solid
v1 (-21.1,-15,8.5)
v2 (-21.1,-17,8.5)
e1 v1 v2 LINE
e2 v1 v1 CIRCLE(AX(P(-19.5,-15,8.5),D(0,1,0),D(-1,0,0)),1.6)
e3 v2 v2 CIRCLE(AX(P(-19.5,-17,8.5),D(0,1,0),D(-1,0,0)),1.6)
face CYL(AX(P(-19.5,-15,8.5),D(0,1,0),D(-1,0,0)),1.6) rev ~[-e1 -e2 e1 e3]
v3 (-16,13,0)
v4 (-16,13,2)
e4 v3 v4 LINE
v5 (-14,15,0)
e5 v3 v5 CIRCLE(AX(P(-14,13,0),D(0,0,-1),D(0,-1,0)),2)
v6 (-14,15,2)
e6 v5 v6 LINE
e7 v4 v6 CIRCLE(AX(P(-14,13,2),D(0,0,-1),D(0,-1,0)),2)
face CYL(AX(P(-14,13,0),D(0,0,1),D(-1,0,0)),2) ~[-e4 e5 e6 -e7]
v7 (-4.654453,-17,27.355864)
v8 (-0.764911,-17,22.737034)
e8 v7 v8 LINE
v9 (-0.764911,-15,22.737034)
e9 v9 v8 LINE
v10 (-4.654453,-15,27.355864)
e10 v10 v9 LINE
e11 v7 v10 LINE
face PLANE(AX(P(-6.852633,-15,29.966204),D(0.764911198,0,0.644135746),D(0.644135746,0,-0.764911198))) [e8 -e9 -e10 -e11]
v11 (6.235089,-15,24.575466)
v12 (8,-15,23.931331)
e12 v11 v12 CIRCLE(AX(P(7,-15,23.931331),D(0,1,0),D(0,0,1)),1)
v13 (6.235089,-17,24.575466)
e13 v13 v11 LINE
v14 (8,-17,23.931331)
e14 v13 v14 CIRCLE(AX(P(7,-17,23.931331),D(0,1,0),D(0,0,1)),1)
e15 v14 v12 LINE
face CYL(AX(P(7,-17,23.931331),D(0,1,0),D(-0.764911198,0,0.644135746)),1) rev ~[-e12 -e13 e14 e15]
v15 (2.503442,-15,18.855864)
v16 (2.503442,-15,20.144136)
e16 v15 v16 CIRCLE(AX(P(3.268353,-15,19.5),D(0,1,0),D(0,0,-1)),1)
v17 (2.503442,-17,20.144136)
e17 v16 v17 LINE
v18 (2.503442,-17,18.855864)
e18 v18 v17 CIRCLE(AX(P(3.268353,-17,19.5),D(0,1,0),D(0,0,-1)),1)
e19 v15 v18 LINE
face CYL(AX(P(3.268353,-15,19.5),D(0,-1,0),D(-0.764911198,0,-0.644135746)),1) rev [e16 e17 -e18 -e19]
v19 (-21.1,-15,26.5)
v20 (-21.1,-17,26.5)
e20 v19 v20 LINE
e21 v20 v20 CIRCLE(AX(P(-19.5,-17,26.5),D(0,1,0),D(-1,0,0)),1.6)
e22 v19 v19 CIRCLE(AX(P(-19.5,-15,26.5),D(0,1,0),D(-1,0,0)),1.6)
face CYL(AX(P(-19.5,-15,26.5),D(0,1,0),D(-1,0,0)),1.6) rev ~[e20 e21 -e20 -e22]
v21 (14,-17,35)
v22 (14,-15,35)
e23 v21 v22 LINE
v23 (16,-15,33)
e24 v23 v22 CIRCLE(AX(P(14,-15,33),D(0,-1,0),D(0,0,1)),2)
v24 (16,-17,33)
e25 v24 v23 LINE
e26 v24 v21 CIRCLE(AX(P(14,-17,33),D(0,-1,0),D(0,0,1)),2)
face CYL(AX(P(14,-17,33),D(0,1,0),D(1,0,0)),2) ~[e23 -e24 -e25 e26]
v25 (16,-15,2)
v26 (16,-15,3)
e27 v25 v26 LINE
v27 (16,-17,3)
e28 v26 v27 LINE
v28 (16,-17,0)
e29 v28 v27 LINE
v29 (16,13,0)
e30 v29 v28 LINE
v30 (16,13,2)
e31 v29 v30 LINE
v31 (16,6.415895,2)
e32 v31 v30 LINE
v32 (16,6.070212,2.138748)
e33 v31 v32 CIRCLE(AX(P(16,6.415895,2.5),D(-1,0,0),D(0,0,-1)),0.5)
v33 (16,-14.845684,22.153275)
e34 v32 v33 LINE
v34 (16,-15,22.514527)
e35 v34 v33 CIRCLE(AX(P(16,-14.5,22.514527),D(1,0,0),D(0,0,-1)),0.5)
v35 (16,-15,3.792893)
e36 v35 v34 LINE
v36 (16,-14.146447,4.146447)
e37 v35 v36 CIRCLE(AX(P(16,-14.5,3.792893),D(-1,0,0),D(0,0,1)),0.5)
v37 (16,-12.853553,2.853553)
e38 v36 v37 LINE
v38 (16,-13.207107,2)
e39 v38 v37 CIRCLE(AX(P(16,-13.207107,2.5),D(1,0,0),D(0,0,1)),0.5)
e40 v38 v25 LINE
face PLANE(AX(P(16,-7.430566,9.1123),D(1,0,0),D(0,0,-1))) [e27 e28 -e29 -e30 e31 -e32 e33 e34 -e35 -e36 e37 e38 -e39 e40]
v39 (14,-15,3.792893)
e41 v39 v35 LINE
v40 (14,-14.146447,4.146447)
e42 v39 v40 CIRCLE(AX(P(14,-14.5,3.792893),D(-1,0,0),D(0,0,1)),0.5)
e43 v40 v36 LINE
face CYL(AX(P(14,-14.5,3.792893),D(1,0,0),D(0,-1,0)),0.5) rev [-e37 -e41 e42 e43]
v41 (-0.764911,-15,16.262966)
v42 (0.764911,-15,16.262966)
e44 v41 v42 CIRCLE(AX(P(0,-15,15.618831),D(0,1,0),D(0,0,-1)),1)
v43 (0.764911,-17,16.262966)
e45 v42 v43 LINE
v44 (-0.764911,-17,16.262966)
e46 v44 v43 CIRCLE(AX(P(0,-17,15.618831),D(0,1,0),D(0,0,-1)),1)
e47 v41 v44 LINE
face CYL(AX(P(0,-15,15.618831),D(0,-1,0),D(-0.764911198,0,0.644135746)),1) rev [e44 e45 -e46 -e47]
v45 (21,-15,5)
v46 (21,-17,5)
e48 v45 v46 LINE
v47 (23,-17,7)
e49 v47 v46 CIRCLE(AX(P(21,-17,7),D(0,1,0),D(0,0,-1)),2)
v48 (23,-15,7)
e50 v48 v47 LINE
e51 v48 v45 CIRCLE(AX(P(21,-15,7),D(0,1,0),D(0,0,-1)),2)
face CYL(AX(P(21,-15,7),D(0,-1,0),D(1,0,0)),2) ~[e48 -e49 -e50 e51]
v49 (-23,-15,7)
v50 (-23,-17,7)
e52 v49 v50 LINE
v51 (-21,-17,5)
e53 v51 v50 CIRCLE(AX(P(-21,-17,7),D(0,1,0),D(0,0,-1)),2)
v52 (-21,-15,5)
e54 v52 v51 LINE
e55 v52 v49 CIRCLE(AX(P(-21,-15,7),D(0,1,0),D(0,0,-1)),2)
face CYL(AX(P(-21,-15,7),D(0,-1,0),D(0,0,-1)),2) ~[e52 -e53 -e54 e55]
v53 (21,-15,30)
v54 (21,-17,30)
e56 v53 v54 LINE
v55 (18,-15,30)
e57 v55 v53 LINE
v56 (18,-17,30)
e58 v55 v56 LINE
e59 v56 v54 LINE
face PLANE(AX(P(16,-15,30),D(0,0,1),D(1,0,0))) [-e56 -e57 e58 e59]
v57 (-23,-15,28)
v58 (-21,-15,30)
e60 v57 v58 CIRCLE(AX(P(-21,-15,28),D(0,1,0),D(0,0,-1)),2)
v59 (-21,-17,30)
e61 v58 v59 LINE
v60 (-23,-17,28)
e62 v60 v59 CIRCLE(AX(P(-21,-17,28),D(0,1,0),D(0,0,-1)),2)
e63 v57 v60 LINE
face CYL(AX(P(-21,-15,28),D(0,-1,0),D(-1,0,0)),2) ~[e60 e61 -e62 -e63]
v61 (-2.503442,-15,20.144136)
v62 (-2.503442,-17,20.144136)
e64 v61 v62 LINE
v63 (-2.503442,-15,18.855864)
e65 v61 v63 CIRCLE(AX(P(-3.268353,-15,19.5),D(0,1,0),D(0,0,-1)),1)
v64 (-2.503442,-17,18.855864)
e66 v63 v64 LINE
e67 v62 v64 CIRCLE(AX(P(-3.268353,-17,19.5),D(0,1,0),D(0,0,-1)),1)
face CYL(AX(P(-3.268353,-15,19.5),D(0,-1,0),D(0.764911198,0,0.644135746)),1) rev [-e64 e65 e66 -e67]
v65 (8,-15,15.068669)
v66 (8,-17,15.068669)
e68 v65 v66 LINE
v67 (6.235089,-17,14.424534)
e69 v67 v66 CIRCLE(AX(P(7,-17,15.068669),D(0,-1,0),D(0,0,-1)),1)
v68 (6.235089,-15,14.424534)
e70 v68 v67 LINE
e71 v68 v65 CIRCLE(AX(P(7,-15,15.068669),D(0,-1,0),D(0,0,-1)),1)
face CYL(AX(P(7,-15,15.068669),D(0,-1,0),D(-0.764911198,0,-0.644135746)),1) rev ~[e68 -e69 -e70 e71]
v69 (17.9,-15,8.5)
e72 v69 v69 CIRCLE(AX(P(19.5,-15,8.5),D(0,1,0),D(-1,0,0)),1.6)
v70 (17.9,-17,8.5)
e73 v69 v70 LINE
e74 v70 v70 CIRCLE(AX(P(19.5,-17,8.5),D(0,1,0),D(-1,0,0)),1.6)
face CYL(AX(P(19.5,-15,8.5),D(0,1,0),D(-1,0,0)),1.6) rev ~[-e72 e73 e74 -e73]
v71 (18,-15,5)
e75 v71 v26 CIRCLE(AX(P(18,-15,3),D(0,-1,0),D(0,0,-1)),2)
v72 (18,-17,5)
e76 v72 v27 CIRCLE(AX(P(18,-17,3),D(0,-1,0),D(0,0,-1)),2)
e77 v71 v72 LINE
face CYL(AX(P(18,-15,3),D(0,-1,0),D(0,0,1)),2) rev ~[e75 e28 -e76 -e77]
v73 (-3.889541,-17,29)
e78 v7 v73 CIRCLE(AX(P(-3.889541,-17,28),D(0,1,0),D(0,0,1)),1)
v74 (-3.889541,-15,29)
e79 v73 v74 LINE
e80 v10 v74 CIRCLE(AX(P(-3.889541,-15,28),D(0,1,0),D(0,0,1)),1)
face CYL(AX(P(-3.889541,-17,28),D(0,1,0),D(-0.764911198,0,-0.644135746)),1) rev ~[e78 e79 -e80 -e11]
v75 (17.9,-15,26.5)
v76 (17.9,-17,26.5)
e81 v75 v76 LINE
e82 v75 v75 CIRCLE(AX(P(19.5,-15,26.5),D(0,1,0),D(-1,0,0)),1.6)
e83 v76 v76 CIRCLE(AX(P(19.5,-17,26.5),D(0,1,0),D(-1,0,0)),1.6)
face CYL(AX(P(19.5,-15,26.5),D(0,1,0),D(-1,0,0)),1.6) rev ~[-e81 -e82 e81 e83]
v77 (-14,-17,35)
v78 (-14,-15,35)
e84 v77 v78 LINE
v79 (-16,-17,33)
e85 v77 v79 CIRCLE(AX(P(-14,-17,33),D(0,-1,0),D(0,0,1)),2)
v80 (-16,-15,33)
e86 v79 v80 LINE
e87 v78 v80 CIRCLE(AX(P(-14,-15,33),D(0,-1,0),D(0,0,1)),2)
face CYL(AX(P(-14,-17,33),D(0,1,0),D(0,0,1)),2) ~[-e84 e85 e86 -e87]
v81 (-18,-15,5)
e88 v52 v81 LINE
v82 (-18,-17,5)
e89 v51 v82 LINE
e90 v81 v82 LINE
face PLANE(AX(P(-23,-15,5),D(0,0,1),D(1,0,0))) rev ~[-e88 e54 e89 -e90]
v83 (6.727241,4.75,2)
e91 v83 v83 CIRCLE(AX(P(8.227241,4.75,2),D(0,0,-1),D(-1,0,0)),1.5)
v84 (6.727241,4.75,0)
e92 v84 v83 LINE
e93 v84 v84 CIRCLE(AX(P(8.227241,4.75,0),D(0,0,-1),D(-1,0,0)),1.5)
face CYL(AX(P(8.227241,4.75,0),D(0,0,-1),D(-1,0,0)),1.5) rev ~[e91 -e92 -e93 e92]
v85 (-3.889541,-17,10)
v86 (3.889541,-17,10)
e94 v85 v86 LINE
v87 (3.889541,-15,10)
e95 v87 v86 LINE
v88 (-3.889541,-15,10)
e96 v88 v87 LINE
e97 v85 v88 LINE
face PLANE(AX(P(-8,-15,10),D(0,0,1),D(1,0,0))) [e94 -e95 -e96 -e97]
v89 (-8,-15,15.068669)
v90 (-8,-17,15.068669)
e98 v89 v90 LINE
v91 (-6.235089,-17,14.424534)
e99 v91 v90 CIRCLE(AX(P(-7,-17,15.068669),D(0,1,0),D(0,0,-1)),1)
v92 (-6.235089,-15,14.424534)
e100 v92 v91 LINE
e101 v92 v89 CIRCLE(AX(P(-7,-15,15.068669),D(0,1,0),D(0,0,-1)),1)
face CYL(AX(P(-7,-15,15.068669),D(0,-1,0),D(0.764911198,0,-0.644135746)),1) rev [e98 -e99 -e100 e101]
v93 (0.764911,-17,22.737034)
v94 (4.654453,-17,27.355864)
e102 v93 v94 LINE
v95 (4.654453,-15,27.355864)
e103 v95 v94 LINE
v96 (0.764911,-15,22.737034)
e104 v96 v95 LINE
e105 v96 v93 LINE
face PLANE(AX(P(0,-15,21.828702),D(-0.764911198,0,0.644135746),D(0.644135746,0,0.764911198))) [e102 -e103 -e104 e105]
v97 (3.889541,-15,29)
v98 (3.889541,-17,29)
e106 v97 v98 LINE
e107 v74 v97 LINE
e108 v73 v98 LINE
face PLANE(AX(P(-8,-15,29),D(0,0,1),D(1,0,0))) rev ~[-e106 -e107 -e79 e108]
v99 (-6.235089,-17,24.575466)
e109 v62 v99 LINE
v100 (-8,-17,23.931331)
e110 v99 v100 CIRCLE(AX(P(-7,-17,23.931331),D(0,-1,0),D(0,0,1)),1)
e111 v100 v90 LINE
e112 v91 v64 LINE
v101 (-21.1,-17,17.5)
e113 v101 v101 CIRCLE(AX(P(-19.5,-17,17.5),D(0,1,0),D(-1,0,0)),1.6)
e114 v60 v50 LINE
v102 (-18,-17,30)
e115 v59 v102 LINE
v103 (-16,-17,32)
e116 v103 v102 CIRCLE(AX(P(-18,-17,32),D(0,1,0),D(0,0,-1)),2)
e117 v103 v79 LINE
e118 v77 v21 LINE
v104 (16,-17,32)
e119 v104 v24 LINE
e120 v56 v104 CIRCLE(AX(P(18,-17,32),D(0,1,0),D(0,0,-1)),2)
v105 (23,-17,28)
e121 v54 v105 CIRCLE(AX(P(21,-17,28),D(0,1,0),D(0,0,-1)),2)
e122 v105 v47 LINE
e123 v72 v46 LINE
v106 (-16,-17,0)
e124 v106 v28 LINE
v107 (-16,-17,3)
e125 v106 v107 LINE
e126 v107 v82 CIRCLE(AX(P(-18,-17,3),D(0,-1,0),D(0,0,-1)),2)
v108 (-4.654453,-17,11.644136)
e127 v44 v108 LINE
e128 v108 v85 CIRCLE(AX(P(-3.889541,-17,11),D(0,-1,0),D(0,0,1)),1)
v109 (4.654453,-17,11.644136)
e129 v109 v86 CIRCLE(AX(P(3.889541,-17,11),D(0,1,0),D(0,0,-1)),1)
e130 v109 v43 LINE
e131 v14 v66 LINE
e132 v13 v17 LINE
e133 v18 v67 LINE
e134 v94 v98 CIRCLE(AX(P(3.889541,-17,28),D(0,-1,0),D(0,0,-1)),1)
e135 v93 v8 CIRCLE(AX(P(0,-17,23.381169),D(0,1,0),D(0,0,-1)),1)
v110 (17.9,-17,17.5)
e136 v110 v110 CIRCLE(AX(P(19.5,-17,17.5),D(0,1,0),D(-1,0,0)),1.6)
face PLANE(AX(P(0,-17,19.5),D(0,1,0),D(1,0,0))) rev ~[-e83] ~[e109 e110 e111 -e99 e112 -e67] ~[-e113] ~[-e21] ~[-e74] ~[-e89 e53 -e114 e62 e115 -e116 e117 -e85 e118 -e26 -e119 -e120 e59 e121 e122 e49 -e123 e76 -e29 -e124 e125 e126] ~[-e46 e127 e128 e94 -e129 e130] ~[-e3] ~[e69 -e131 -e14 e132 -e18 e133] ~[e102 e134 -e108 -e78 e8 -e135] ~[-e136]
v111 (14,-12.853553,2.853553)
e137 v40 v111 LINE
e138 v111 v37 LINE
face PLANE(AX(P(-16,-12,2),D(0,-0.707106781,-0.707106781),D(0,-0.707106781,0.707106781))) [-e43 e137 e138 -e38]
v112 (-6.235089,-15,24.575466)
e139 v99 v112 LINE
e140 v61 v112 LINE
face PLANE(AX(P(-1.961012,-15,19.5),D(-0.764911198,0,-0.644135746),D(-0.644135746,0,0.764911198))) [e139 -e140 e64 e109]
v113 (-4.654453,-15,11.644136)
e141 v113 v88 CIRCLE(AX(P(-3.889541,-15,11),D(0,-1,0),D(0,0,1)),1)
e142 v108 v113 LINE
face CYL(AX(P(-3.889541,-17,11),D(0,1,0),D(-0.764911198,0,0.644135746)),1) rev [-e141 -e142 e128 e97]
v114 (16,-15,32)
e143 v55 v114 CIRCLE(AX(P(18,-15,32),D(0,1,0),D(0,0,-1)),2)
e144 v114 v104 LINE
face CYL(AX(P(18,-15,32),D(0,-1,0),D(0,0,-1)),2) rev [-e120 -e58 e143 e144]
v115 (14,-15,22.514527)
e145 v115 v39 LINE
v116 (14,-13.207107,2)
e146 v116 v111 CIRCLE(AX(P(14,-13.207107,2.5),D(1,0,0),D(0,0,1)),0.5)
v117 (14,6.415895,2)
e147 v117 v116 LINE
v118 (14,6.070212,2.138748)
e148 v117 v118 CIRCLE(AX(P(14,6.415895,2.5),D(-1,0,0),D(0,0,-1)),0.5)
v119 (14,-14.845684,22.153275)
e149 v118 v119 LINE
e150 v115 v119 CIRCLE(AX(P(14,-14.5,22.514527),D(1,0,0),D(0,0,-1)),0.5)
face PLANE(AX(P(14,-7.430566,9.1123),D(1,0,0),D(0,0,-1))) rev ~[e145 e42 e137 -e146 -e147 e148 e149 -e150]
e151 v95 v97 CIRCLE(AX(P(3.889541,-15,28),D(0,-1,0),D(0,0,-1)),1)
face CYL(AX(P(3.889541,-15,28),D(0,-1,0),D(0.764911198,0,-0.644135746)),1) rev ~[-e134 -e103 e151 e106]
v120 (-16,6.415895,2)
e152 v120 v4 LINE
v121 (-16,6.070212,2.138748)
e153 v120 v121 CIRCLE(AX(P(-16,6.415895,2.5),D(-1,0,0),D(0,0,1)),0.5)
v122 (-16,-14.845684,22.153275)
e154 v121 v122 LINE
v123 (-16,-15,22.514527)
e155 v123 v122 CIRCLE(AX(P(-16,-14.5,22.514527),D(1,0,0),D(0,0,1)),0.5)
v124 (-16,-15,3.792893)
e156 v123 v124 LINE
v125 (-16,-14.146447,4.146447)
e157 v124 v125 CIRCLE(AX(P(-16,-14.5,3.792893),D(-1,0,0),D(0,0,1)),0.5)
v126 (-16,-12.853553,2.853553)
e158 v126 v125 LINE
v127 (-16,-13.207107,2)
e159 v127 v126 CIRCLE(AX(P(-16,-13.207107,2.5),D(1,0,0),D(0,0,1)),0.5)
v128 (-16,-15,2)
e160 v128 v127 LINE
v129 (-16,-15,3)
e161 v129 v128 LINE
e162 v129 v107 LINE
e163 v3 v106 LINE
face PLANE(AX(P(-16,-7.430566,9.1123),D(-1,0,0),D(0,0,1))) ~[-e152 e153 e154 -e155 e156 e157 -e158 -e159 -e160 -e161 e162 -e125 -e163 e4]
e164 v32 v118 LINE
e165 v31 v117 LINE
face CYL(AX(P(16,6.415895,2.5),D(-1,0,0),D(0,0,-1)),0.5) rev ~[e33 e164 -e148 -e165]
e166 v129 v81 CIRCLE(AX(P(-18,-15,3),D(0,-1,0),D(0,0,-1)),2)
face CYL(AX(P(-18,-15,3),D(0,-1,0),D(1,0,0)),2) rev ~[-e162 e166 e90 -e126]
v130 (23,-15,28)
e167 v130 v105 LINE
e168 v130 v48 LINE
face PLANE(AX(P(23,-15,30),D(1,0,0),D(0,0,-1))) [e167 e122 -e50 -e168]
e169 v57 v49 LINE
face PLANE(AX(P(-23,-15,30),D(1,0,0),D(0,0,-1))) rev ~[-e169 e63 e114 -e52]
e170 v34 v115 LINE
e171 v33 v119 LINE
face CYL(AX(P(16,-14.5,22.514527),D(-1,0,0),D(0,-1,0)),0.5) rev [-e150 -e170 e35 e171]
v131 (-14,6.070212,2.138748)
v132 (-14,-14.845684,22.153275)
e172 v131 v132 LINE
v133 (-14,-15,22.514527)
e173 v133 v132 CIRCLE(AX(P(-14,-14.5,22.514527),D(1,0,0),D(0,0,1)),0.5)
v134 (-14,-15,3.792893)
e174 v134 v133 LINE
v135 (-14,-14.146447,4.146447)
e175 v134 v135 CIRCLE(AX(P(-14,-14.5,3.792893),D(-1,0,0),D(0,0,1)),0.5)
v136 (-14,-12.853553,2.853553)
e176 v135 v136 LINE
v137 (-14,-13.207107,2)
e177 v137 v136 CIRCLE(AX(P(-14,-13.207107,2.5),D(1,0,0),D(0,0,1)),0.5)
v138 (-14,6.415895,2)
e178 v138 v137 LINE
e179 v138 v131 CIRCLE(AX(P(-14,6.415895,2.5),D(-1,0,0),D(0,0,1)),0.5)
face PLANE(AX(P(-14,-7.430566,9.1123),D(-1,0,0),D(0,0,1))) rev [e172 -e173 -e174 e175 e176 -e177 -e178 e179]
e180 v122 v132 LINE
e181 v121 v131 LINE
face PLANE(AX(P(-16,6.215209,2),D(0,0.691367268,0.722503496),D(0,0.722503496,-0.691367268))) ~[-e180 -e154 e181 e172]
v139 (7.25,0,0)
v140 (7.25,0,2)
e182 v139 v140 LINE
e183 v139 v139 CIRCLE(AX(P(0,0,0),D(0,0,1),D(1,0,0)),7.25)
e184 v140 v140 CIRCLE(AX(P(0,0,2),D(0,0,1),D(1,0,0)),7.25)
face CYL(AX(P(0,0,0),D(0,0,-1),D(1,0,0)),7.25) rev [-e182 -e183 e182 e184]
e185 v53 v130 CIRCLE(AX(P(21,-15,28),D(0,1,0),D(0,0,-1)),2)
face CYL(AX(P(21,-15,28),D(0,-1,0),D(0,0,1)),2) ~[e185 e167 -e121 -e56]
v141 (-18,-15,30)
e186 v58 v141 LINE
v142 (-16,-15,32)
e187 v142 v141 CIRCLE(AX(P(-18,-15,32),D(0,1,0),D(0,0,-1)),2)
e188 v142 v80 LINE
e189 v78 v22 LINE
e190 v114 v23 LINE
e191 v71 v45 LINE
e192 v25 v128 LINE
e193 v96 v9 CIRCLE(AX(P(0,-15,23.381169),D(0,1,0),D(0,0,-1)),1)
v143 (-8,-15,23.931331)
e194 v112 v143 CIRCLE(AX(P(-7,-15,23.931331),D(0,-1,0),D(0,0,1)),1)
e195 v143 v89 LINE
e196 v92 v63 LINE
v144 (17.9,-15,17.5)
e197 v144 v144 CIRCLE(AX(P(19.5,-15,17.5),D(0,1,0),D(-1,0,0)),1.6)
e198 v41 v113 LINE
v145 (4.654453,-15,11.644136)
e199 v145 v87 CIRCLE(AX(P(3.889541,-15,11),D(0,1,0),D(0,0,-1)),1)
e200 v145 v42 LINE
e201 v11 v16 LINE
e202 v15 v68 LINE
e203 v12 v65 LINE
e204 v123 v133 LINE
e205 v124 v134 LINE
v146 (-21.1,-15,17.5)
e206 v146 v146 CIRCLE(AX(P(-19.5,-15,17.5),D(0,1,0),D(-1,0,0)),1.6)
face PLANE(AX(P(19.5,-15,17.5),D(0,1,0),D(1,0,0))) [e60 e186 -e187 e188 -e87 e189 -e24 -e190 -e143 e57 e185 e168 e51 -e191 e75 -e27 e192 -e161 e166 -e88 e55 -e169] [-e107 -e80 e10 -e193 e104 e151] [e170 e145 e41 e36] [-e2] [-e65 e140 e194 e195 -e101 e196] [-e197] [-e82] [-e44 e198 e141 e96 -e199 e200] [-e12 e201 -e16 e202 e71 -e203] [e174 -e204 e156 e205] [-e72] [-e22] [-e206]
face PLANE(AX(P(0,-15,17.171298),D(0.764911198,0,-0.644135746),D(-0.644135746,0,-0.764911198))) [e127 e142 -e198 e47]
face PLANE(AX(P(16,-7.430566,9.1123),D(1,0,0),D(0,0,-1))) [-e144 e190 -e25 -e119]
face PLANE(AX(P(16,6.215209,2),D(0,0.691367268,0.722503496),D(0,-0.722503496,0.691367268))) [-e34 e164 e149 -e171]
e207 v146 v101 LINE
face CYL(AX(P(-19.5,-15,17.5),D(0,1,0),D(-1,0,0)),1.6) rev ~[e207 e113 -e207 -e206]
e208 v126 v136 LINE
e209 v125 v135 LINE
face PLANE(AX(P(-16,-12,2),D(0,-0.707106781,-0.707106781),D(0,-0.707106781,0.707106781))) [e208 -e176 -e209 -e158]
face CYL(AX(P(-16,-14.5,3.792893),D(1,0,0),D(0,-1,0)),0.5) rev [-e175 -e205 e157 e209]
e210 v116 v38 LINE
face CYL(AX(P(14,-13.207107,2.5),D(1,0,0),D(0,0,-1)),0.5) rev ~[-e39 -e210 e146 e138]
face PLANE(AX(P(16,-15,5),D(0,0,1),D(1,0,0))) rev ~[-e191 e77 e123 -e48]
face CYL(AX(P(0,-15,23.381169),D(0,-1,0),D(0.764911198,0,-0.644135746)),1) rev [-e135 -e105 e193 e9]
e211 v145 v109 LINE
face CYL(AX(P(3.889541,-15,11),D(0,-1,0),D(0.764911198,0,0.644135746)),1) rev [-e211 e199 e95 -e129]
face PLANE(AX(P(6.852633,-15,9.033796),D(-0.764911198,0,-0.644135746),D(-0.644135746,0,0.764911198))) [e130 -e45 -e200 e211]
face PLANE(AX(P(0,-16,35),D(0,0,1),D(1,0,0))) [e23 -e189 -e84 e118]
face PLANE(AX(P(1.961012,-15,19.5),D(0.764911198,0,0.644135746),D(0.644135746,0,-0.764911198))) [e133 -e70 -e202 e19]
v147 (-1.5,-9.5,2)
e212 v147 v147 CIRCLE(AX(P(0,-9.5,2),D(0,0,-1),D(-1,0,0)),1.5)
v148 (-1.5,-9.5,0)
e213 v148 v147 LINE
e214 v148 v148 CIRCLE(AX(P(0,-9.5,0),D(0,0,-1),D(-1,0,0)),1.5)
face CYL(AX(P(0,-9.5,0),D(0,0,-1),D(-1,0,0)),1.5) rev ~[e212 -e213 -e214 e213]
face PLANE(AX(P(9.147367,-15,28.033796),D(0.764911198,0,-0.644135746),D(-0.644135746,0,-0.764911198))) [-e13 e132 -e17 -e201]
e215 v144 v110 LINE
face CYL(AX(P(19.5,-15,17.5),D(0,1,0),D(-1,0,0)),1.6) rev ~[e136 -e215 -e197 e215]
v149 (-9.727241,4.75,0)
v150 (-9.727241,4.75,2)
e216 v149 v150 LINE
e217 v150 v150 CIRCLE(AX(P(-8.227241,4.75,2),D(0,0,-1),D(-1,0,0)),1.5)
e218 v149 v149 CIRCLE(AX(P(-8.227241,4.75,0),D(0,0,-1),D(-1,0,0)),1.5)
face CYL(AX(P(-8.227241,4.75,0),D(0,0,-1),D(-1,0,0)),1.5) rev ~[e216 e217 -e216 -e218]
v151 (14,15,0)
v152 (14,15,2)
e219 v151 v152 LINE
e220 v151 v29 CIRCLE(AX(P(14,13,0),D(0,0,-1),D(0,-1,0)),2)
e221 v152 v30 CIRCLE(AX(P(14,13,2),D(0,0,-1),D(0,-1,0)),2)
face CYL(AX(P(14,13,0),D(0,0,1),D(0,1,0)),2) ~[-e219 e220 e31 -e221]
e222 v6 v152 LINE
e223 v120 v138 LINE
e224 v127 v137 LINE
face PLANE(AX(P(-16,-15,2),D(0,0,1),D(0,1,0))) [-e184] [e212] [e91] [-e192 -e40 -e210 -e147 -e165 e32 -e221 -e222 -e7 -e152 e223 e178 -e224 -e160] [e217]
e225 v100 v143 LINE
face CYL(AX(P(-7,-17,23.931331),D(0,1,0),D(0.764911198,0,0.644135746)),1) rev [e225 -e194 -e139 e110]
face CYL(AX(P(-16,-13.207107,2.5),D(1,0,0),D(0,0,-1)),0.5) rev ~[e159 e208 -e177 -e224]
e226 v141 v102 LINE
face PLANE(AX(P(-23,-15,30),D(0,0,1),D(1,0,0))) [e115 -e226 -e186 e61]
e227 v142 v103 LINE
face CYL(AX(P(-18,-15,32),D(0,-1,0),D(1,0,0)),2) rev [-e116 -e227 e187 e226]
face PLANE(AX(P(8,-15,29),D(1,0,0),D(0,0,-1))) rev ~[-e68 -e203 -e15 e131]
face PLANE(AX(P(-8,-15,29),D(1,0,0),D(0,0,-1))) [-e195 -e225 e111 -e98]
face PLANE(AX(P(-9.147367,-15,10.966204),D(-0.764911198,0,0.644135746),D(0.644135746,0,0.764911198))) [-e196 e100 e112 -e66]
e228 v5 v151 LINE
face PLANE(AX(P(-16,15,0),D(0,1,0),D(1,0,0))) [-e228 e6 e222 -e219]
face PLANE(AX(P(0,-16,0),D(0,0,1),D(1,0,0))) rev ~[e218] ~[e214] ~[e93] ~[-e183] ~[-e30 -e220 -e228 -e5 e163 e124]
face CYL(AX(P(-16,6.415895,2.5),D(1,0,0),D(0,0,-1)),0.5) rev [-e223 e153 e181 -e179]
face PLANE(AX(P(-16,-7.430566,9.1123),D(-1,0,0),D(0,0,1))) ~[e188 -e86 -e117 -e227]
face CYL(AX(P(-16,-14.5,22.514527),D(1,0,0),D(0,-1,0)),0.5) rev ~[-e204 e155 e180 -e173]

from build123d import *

# Parameters (mm, degrees)
SKETCH2_W           = 32
SKETCH2_H           = 30
SKETCH2_R           = 1.25
SKETCH2_R_2         = 7.25
BOSS_EXTRUDE1_DEPTH = 2
SKETCH2_4_W         = 32
SKETCH2_4_H         = 2
BOSS_EXTRUDE2_DEPTH = 35
BOSS_EXTRUDE3_DEPTH = 2
FILLET1_R           = 2
SKETCH5_W           = 7
SKETCH5_H           = 25
SKETCH5_R           = 1.6
BOSS_EXTRUDE4_DEPTH = 2
FILLET2_R           = 2
SKETCH14_W          = 16
SKETCH14_H          = 19
CUT_EXTRUDE1_DEPTH  = 52.51698749
CUT_EXTRUDE2_DEPTH  = 56.090834083
EXTRUDE_THIN1_DEPTH = 2
FILLET3_R           = 1
FILLET4_R           = 0.5
SKETCH21_R          = 1.5
CUT_EXTRUDE3_DEPTH  = 10


with BuildPart() as part:
    # Sketch2 → Boss-Extrude1 (new body)
    with BuildSketch(Plane.XY):
        Rectangle(SKETCH2_W, SKETCH2_H)
        with Locations((-8.227241336, 4.75)):
            Circle(SKETCH2_R, mode=Mode.SUBTRACT)
        with Locations((8.227241336, 4.75)):
            Circle(SKETCH2_R, mode=Mode.SUBTRACT)
        with Locations((0, -9.5)):
            Circle(SKETCH2_R, mode=Mode.SUBTRACT)
        Circle(SKETCH2_R_2, mode=Mode.SUBTRACT)
    extrude(amount=BOSS_EXTRUDE1_DEPTH)

    # Sketch2<4> → Boss-Extrude2 (add)
    with BuildSketch(Plane.XY):
        with Locations((0, -16)):
            Rectangle(SKETCH2_4_W, SKETCH2_4_H)
    extrude(amount=BOSS_EXTRUDE2_DEPTH)

    # Sketch3 → Boss-Extrude3 (add)
    with BuildSketch(Plane(origin=(16, 0, 0), x_dir=(0, 0, -1), z_dir=(1, 0, 0))):
        Polygon((-2, 6.21520857), (-22.300940927, -15), (-2, -15), align=None)
    boss_extrude3 = extrude(amount=-BOSS_EXTRUDE3_DEPTH)

    # Mirror1: Boss-Extrude3 across plane
    add(boss_extrude3.mirror(Plane.ZY))

    # Fillet1
    fillet1_edges = [part.edges().sort_by_distance(p)[0] for p in [
        (-16, 15, 1),
        (16, 15, 1),
    ]]
    fillet(fillet1_edges, radius=FILLET1_R)

    # Sketch5 → Boss-Extrude4 (add)
    # profile 1 of 2: a face of its own
    with BuildSketch(Plane(origin=(0, -15, 0), x_dir=(1, 0, 0), z_dir=(0, 1, 0))):
        with Locations((19.5, -17.5)):
            Rectangle(SKETCH5_W, SKETCH5_H)
        with Locations(Location((19.5, -26.5, 0), (0, 0, 180))):
            Circle(SKETCH5_R, mode=Mode.SUBTRACT)
        with Locations(Location((19.5, -17.5, 0), (0, 0, 180))):
            Circle(SKETCH5_R, mode=Mode.SUBTRACT)
        with Locations(Location((19.5, -8.5, 0), (0, 0, 180))):
            Circle(SKETCH5_R, mode=Mode.SUBTRACT)
    # profile 2 of 2: a face of its own
    with BuildSketch(Plane(origin=(0, -15, 0), x_dir=(1, 0, 0), z_dir=(0, 1, 0))):
        with Locations((-19.5, -17.5)):
            Rectangle(SKETCH5_W, SKETCH5_H)
        with Locations(Location((-19.5, -26.5, 0), (0, 0, 180))):
            Circle(SKETCH5_R, mode=Mode.SUBTRACT)
        with Locations(Location((-19.5, -17.5, 0), (0, 0, 180))):
            Circle(SKETCH5_R, mode=Mode.SUBTRACT)
        with Locations(Location((-19.5, -8.5, 0), (0, 0, 180))):
            Circle(SKETCH5_R, mode=Mode.SUBTRACT)
    extrude(amount=-BOSS_EXTRUDE4_DEPTH)

    # Fillet2
    fillet2_edges = [part.edges().sort_by_distance(p)[0] for p in [
        (-23, -16, 5),
        (-16, -16, 5),
        (-16, -16, 30),
        (16, -16, 35),
        (-16, -16, 35),
        (23, -16, 30),
        (16, -16, 30),
        (16, -16, 5),
        (23, -16, 5),
        (-23, -16, 30),
    ]]
    fillet(fillet2_edges, radius=FILLET2_R)

    # Sketch14 → Cut-Extrude1 (cut, through all)
    with BuildSketch(Plane(origin=(0, -15, 0), x_dir=(1, 0, 0), z_dir=(0, 1, 0))):
        with Locations((0, -19.5)):
            Rectangle(SKETCH14_W, SKETCH14_H)
    extrude(amount=-CUT_EXTRUDE1_DEPTH, mode=Mode.SUBTRACT)

    # Sketch20 → Cut-Extrude2 (cut, through all)
    with BuildSketch(Plane.ZY.offset(16)):
        Polygon((2, -12), (5, -15), (2, -15), align=None)
    extrude(amount=-CUT_EXTRUDE2_DEPTH, mode=Mode.SUBTRACT)

    # Sketch15 → Extrude-Thin1 (add)
    with BuildSketch(Plane(origin=(0, -15, 0), x_dir=(1, 0, 0), z_dir=(0, 1, 0))):
        Polygon((6.852633203, -9.033796381), (-9.147366797, -28.033796381), (-6.852633203, -29.966203619), (9.147366797, -10.966203619), align=None)
        Polygon((-9.147366797, -10.966203619), (6.852633203, -29.966203619), (9.147366797, -28.033796381), (-6.852633203, -9.033796381), align=None)
    extrude(amount=-EXTRUDE_THIN1_DEPTH)

    # Fillet3
    fillet3_edges = [part.edges().sort_by_distance(p)[0] for p in [
        (-6.03898805, -16, 10),
        (6.03898805, -16, 10),
        (-8, -16, 12.32870169),
        (-8, -16, 26.67129831),
        (6.03898805, -16, 29),
        (-6.03898805, -16, 29),
        (8, -16, 26.67129831),
        (8, -16, 12.32870169),
        (1.96101195, -16, 19.5),
        (0, -16, 21.82870169),
        (-1.96101195, -16, 19.5),
        (0, -16, 17.17129831),
    ]]
    fillet(fillet3_edges, radius=FILLET3_R)

    # Fillet4
    fillet4_edges = [part.edges().sort_by_distance(p)[0] for p in [
        (15, -12, 2),
        (15, -15, 5),
        (-15, -15, 5),
        (-15, -12, 2),
        (15, 6.21520857, 2),
        (15, -15, 22.300940927),
        (-15, 6.21520857, 2),
        (-15, -15, 22.300940927),
    ]]
    fillet(fillet4_edges, radius=FILLET4_R)

    # Sketch21 → Cut-Extrude3 (cut)
    with BuildSketch(Plane(origin=(0, 0, 0), x_dir=(-1, 0, 0), z_dir=(0, 0, -1))):
        with Locations((-8.227241336, 4.75)):
            Circle(SKETCH21_R)
        with Locations((8.227241336, 4.75)):
            Circle(SKETCH21_R)
        with Locations((0, -9.5)):
            Circle(SKETCH21_R)
    extrude(amount=-CUT_EXTRUDE3_DEPTH, mode=Mode.SUBTRACT)


solid = part.part
